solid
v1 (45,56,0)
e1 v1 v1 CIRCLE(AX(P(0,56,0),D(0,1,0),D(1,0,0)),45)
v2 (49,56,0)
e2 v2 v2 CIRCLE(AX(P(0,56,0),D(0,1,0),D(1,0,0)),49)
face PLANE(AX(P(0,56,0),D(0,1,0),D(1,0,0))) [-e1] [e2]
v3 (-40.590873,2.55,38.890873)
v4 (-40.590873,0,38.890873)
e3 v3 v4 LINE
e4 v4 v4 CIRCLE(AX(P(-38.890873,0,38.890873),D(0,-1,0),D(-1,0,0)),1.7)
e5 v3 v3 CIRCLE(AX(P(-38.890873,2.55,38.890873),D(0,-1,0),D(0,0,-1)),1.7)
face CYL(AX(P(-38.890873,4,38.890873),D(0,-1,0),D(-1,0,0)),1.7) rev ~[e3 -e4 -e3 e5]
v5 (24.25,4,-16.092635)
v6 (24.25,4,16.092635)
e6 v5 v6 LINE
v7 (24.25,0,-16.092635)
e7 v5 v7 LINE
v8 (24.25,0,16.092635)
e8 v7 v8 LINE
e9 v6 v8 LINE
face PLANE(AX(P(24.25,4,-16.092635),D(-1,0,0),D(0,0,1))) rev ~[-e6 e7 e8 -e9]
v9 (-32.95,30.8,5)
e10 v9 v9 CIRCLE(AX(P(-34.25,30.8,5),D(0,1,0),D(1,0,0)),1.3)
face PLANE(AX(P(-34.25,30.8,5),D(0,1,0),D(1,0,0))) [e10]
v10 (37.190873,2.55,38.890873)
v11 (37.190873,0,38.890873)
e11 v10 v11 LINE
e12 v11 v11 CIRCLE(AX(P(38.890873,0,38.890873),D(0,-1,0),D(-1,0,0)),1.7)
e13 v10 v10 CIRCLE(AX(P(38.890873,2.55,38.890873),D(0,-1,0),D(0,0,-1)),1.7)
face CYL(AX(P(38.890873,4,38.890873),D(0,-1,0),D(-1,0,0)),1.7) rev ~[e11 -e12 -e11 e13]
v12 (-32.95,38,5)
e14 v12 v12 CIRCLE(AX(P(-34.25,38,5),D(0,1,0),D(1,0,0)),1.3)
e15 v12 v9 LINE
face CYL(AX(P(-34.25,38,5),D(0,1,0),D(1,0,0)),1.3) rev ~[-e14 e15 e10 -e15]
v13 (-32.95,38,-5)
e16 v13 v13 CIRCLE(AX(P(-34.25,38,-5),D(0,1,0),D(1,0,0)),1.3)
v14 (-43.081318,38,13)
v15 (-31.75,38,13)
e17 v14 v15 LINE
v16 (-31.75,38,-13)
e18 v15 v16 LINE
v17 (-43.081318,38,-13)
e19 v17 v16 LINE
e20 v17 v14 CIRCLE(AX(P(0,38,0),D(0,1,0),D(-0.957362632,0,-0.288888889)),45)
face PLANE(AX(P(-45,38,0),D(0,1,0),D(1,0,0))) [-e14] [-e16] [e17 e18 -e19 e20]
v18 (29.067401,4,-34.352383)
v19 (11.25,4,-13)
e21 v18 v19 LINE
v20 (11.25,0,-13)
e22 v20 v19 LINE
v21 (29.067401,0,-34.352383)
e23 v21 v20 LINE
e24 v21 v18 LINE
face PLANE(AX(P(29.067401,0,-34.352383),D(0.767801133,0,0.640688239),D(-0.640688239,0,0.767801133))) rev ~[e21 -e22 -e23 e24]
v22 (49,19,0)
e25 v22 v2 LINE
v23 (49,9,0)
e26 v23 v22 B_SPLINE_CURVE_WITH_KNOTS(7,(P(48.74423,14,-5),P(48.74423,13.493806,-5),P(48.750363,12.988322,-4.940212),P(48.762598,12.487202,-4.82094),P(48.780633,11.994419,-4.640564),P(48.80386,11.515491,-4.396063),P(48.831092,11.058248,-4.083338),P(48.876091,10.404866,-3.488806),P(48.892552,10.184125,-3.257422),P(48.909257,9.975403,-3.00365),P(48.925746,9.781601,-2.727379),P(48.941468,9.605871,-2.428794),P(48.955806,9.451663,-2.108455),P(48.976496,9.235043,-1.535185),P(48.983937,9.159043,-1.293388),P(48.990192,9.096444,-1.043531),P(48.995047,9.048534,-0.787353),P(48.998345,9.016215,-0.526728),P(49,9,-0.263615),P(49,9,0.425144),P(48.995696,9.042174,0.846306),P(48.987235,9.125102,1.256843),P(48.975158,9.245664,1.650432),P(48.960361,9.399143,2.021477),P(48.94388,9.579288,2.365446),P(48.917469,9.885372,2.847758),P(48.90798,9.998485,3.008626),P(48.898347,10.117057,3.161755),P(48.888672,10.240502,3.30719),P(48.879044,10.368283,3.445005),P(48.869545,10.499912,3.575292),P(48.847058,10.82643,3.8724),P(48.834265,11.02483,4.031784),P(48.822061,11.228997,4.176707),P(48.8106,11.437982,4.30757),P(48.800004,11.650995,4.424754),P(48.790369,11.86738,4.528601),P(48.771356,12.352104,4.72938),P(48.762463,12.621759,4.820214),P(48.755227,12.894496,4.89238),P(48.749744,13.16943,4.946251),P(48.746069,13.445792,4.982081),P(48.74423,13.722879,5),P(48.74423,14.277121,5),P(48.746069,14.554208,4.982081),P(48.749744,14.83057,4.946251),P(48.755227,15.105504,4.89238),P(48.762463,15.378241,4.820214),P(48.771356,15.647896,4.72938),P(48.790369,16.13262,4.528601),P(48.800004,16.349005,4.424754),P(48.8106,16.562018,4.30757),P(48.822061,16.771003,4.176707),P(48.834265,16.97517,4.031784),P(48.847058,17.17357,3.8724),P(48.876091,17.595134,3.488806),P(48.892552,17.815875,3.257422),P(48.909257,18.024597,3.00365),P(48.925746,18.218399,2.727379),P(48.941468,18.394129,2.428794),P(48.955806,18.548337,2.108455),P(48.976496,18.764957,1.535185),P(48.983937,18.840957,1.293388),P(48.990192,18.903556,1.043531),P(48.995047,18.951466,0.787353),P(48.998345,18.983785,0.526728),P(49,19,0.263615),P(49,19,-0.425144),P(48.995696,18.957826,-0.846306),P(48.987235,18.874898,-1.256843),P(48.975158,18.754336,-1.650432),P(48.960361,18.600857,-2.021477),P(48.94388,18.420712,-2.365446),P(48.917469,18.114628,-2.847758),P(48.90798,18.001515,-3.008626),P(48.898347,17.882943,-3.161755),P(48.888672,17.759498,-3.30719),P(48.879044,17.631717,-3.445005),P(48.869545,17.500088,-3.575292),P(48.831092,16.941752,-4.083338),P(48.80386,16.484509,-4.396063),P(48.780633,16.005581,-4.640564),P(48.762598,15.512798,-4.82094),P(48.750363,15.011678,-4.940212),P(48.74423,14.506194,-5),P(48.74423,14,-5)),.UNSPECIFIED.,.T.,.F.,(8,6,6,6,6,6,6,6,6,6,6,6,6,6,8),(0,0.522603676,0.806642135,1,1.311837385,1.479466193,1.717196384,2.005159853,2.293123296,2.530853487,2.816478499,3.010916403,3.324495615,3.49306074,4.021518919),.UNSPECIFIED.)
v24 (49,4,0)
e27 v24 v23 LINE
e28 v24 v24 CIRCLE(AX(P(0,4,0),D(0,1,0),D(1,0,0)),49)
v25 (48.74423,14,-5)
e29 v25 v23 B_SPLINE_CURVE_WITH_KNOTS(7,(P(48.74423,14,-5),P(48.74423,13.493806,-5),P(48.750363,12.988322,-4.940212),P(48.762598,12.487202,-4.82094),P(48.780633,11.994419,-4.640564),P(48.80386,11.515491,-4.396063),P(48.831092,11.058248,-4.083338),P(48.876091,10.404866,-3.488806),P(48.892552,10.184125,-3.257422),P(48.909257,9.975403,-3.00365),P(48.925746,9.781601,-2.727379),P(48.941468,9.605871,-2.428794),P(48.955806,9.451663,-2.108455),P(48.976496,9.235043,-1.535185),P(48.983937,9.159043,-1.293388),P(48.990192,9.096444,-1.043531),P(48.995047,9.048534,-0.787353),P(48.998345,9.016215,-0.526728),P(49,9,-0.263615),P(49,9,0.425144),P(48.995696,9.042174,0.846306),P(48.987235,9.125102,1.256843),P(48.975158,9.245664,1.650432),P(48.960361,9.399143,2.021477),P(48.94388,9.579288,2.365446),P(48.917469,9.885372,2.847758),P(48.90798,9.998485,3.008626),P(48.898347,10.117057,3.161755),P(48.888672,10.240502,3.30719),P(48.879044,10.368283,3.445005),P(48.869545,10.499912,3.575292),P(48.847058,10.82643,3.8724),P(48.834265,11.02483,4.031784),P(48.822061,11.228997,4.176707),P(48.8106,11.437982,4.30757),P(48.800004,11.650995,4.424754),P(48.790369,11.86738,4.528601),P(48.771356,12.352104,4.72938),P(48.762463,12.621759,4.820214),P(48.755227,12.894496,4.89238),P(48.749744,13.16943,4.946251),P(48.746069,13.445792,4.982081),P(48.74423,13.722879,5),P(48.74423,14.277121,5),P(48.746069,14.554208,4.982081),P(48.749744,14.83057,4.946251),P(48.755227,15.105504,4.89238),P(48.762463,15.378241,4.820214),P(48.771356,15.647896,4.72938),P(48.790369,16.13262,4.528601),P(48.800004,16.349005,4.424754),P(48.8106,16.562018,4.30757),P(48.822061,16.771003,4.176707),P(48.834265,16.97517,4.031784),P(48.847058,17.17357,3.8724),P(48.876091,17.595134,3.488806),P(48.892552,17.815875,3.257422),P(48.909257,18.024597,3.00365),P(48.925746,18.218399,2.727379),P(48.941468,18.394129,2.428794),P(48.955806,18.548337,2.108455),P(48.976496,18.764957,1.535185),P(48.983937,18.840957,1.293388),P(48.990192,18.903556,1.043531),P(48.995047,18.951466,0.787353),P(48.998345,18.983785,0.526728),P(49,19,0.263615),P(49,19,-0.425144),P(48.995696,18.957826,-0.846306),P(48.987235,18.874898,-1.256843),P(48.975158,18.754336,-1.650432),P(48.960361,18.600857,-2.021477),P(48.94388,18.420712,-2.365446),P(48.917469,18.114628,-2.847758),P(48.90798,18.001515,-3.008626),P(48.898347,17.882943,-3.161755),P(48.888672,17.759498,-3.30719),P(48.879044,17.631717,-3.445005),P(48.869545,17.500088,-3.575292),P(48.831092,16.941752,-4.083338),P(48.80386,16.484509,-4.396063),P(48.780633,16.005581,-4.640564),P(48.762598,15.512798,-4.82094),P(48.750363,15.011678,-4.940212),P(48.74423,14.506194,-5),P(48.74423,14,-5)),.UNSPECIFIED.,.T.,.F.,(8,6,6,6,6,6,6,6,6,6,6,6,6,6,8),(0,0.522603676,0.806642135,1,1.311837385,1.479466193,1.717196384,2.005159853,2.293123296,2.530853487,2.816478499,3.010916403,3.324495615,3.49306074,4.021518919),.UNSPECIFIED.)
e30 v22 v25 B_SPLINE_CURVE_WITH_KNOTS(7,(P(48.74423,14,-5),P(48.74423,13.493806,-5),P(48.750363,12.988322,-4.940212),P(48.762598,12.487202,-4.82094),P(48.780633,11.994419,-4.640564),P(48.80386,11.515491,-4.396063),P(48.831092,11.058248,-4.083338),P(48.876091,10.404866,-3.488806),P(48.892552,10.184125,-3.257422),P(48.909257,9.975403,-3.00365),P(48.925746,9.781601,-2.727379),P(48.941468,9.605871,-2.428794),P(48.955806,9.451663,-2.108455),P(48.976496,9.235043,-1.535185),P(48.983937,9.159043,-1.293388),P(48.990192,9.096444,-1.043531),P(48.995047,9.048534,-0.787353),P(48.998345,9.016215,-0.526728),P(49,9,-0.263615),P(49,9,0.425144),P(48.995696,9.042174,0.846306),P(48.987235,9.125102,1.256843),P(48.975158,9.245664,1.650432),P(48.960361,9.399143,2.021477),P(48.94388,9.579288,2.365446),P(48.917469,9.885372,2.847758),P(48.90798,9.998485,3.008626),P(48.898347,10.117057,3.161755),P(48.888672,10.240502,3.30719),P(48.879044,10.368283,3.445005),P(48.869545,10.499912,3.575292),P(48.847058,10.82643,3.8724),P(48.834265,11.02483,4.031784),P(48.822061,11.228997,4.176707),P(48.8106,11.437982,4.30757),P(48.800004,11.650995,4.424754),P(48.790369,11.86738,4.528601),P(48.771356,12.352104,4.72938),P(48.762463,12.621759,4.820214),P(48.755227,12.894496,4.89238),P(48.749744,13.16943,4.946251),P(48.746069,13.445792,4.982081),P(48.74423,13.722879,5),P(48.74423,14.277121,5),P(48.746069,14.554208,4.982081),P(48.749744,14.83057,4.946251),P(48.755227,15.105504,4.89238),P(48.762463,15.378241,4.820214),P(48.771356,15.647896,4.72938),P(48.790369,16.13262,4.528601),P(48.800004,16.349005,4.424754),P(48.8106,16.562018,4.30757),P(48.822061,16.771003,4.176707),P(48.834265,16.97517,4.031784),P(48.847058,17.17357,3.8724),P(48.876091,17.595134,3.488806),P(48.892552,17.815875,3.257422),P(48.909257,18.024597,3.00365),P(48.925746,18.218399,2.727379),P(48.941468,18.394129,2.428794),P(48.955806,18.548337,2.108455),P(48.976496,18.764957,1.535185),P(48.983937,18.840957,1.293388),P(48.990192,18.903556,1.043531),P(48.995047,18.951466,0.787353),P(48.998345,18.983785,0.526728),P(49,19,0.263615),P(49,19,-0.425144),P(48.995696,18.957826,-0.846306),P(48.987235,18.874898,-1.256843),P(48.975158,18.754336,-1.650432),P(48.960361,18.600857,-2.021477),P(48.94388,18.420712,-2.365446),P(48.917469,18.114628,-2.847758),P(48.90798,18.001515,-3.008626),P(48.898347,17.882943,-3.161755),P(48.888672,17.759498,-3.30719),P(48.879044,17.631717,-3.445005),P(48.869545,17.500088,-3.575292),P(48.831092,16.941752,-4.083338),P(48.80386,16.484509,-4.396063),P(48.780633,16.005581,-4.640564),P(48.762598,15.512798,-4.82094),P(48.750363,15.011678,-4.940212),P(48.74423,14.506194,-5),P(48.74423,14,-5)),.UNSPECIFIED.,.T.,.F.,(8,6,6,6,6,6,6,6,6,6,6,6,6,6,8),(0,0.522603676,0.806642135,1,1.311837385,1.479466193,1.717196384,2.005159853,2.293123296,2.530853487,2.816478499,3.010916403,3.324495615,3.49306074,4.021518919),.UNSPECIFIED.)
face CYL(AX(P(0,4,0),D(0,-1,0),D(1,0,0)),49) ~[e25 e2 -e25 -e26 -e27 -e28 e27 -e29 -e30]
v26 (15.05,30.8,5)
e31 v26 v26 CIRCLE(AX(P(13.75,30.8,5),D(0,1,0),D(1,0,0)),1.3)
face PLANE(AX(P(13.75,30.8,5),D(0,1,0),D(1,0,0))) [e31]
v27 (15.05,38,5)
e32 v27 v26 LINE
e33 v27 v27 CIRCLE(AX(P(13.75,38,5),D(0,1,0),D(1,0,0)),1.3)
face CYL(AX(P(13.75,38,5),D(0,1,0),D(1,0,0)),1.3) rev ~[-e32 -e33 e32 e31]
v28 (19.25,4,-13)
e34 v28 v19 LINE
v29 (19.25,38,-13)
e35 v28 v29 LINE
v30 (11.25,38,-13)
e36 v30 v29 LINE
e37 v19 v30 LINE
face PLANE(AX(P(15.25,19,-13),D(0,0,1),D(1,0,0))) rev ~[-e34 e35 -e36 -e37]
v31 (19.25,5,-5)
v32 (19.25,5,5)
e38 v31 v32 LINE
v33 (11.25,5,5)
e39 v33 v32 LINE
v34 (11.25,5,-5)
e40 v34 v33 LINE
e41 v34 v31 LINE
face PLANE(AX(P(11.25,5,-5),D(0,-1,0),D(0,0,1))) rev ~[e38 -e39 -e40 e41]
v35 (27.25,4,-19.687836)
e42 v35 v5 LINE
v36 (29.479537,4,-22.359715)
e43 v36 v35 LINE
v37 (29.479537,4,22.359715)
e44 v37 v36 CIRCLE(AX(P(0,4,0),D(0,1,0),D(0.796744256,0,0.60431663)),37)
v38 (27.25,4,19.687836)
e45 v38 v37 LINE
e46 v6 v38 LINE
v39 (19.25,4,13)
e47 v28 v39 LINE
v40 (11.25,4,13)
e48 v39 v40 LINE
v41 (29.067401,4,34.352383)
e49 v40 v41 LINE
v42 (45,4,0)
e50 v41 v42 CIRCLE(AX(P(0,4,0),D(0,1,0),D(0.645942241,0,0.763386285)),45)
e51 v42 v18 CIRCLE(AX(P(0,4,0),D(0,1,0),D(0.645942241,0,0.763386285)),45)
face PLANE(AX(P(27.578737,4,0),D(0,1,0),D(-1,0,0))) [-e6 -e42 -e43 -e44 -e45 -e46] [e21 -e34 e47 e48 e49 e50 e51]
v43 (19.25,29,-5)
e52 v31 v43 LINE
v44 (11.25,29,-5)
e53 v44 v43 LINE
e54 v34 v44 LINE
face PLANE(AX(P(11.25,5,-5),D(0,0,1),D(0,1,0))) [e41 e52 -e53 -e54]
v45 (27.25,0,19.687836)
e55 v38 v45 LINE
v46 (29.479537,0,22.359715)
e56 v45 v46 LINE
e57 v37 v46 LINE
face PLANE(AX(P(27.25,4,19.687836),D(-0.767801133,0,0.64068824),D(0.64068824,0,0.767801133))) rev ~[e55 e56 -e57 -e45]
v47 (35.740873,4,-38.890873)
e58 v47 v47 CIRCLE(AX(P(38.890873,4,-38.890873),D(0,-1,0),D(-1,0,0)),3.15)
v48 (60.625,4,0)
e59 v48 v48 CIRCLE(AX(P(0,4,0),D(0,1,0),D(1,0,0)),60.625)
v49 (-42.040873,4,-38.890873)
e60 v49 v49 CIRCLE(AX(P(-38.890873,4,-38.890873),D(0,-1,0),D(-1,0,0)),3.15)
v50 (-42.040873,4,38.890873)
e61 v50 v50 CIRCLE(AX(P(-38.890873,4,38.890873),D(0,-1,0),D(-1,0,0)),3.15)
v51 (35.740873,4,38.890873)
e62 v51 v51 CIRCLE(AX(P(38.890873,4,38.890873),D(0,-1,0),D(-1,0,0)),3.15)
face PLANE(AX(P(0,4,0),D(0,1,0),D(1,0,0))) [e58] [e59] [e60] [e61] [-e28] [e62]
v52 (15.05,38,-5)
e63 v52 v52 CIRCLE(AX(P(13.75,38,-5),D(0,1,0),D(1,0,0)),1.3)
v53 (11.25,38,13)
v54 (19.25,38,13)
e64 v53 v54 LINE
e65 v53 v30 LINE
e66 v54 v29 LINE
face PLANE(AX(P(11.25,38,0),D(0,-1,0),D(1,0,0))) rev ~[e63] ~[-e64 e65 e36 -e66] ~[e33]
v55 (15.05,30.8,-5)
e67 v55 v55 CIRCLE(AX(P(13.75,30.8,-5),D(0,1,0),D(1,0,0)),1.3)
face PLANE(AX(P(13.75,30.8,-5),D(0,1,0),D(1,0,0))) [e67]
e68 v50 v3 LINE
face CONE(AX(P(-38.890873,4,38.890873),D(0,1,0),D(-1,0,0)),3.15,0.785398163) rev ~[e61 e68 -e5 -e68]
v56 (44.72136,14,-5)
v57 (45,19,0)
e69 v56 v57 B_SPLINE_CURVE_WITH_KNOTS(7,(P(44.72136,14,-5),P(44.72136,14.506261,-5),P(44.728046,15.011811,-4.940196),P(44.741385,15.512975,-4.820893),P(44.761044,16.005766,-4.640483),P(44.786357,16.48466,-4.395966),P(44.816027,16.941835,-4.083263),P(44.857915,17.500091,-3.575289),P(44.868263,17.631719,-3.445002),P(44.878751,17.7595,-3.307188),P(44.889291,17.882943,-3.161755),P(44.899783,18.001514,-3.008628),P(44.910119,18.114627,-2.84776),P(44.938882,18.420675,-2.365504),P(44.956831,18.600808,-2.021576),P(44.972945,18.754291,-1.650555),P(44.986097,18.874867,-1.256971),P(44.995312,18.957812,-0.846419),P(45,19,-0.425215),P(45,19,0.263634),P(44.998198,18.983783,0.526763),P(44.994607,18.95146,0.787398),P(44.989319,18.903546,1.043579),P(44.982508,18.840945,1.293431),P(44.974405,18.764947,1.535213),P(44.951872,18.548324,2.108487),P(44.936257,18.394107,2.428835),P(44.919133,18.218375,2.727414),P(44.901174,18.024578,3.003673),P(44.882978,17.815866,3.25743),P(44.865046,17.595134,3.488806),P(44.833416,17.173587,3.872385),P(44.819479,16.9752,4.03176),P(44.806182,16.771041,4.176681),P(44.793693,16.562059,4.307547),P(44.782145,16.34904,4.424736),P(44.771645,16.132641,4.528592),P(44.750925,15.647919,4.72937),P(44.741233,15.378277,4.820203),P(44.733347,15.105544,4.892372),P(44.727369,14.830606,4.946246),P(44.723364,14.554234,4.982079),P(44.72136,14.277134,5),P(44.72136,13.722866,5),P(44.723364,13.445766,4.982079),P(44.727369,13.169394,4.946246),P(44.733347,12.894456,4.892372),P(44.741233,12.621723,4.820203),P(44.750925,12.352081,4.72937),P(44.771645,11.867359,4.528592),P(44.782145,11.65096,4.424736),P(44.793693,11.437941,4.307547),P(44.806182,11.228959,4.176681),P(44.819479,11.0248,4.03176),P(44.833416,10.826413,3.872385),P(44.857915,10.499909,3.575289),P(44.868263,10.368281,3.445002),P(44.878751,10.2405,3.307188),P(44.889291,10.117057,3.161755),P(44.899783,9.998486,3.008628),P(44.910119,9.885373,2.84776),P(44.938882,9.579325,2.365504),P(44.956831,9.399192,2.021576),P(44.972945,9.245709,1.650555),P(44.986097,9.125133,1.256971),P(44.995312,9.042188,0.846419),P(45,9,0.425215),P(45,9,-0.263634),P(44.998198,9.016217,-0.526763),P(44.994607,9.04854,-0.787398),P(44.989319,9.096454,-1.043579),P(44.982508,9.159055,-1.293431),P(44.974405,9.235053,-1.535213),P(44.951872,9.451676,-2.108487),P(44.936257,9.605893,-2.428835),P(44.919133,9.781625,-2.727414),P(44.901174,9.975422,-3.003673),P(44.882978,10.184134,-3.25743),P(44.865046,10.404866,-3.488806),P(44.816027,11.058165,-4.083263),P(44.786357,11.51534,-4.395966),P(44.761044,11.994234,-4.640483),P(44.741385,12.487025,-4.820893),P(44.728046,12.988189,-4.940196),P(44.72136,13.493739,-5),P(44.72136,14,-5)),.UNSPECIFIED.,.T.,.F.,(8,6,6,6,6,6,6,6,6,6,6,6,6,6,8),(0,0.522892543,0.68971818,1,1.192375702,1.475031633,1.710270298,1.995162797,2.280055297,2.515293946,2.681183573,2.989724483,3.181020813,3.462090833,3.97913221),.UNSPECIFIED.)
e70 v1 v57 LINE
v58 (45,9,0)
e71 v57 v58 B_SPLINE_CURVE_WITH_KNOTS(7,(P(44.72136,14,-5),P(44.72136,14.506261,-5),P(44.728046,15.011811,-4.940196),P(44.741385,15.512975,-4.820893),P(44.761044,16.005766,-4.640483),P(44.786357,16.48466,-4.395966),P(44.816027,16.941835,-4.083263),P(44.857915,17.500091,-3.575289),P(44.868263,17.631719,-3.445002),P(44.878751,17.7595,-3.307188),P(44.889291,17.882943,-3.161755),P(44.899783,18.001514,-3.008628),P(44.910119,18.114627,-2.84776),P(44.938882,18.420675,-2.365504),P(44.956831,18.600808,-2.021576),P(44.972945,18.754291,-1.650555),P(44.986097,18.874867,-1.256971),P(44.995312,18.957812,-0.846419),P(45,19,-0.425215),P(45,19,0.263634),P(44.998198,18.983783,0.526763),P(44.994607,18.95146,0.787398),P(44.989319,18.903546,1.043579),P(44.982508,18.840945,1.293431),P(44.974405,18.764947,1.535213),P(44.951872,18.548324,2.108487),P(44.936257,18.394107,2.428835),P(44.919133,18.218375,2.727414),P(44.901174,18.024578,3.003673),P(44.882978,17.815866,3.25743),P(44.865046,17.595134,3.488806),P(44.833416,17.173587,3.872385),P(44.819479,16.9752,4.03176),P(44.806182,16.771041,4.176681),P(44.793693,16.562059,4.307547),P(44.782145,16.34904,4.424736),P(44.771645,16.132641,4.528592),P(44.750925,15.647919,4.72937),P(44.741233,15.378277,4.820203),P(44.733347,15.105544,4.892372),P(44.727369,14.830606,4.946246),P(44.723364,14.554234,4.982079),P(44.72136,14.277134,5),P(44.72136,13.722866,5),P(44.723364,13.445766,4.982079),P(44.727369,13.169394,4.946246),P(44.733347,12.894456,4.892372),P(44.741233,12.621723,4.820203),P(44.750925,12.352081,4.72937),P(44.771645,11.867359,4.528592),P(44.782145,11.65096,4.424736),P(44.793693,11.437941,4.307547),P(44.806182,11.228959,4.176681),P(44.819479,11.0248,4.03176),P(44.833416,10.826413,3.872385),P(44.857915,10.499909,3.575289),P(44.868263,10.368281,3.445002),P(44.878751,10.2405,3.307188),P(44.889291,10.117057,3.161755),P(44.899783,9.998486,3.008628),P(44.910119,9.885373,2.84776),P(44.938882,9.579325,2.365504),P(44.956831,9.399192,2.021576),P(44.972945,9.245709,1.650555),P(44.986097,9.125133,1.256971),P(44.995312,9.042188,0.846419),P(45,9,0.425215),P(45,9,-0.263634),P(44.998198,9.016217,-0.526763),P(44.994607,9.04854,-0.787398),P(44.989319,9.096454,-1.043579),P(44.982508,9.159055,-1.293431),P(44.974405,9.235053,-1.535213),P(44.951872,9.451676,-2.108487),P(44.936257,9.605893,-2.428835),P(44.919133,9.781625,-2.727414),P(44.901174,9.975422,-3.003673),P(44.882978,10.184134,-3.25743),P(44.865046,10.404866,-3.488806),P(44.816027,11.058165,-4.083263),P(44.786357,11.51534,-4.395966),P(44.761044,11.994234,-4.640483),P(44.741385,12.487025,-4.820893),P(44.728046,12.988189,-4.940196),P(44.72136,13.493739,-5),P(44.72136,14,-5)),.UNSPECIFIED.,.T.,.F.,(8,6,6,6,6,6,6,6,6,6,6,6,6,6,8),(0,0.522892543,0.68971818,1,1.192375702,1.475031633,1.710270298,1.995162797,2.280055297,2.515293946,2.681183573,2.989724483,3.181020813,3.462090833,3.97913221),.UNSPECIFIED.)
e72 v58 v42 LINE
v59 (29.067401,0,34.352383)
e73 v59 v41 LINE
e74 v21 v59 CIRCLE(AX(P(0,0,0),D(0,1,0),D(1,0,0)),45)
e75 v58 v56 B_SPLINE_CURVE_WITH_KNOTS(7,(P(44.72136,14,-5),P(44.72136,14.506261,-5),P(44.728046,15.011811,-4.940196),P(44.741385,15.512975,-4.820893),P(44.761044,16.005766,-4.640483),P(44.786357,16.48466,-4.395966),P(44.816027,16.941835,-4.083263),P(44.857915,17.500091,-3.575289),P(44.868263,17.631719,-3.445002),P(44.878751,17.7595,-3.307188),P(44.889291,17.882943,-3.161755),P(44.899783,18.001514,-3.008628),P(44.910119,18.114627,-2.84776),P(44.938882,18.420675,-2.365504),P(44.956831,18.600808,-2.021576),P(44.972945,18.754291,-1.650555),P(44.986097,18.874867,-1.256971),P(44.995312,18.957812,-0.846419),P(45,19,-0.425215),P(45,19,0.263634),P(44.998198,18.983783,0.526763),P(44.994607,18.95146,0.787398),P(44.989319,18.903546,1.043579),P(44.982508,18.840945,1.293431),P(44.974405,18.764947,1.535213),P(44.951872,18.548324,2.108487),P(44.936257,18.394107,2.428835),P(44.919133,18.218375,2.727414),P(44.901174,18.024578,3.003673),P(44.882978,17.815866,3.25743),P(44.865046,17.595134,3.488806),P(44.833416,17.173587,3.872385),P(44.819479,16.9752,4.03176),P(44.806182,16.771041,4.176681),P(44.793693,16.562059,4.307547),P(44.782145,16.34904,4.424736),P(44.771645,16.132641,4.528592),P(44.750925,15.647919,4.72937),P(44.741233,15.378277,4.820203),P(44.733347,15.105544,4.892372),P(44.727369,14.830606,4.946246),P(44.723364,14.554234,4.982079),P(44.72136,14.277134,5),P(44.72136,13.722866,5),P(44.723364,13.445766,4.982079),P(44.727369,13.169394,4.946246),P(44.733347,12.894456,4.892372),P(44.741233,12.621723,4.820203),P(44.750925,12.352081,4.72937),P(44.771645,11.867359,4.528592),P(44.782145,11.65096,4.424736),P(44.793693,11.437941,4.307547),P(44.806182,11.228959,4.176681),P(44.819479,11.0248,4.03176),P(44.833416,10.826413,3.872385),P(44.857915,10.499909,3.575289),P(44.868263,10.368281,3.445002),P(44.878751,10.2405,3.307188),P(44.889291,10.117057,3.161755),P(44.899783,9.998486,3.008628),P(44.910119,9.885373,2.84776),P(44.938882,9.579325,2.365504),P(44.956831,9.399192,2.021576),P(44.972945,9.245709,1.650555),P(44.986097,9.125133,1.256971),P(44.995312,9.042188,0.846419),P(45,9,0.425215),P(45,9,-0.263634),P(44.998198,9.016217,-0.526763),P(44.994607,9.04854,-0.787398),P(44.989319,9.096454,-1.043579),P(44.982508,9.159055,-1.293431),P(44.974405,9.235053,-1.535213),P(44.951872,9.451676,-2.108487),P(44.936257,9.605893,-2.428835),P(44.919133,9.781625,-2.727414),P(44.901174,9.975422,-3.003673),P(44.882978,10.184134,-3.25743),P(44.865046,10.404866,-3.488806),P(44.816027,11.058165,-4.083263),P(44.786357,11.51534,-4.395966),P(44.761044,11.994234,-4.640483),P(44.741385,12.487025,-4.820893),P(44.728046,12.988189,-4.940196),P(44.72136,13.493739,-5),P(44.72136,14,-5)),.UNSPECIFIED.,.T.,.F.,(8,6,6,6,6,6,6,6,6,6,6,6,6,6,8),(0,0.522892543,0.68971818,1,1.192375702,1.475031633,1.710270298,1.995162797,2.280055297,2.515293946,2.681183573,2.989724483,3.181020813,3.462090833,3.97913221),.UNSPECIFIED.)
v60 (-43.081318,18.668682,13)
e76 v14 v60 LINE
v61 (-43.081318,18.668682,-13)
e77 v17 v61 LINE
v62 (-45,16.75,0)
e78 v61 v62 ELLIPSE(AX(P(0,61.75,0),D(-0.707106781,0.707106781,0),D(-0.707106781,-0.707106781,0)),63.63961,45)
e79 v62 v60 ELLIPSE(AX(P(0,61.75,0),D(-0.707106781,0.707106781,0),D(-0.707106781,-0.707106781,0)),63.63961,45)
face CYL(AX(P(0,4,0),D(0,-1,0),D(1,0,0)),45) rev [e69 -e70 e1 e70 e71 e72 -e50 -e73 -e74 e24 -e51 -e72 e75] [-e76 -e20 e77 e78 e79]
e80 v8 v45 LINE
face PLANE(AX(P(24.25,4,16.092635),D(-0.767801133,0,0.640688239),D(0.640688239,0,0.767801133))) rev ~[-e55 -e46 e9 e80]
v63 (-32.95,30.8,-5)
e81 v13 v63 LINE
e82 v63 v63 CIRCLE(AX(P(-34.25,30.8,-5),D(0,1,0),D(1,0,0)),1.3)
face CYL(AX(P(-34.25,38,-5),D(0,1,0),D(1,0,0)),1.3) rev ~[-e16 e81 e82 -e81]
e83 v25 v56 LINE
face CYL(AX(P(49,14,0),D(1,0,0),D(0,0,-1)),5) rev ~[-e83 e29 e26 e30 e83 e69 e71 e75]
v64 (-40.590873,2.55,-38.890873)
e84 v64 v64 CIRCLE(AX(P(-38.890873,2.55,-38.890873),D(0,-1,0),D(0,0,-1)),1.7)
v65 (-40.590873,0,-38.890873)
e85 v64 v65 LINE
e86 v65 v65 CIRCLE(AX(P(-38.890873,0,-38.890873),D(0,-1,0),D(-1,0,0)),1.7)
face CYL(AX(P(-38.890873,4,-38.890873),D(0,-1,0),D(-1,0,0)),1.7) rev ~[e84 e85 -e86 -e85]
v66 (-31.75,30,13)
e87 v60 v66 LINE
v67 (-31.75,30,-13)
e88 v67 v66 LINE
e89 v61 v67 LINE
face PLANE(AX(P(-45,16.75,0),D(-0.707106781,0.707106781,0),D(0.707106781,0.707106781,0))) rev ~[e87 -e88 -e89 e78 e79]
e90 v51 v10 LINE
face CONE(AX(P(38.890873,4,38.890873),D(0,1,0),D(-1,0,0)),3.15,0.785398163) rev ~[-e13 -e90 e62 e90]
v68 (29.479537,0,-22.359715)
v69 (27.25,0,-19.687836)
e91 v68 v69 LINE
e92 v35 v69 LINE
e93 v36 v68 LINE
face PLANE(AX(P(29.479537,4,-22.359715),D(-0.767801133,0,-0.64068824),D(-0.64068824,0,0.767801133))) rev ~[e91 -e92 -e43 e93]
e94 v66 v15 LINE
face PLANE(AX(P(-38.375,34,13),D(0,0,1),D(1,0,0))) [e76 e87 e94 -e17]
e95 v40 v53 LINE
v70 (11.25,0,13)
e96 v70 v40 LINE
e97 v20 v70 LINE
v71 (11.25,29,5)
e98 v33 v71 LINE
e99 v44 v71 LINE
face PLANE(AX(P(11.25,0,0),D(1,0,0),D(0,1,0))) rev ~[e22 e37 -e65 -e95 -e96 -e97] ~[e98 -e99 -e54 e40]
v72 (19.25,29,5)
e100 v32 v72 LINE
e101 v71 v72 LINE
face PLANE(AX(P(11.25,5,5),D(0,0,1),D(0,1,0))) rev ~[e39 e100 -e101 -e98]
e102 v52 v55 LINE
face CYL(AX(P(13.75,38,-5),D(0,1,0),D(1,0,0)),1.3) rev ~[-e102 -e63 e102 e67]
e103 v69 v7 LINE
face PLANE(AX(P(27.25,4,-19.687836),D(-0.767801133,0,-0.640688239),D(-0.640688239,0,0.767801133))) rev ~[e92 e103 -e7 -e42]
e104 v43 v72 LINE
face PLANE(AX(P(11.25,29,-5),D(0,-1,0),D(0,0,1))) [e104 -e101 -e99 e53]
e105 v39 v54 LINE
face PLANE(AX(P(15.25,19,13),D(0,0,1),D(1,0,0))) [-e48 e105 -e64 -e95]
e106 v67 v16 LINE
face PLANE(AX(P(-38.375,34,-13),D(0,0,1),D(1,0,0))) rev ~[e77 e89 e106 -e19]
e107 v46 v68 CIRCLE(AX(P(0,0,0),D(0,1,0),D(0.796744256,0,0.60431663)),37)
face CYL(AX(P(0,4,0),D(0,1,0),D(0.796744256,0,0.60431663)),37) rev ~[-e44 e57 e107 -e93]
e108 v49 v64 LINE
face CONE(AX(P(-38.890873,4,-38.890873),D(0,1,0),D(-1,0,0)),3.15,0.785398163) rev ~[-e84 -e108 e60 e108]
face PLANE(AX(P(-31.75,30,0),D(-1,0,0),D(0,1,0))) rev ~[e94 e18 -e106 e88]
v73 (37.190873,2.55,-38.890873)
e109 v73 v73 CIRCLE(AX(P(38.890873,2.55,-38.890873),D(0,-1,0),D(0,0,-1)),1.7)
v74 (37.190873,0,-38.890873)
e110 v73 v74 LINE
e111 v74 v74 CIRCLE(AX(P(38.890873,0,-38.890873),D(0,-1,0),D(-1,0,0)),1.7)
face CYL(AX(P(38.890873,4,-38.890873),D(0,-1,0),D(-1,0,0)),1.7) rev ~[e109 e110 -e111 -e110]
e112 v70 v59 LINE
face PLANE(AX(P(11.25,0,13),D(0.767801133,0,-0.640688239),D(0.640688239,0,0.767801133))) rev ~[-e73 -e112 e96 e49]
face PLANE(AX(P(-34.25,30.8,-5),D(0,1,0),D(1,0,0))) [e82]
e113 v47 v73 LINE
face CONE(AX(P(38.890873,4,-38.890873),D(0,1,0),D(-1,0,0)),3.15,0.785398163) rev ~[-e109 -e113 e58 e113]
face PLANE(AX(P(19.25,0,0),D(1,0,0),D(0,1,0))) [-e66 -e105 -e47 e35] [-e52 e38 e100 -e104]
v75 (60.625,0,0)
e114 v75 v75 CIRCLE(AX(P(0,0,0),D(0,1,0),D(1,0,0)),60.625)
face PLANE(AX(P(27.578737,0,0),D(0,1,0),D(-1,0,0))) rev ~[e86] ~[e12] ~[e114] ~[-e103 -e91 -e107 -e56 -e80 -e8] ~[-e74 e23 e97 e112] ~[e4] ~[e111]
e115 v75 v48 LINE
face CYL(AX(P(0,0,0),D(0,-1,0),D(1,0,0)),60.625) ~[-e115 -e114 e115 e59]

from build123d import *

# Parameters (mm, degrees)
SKETCH1_R                                           = 60.625
SKETCH1_R_2                                         = 45
BOSS_EXTRUDE1_DEPTH                                 = 4
SKETCH2_R                                           = 49
SKETCH2_R_2                                         = 45
BOSS_EXTRUDE2_DEPTH                                 = 52
SKETCH4_W                                           = 13.25
SKETCH4_H                                           = 8
SKETCH4_W_2                                         = 8
SKETCH4_H_2                                         = 38
BOSS_EXTRUDE4_DEPTH                                 = 13
BOSS_EXTRUDE5_DEPTH                                 = 4
SKETCH7_R                                           = 1.3
CUT_EXTRUDE4_DEPTH                                  = 7.2
SKETCH9_W                                           = 10
SKETCH9_H                                           = 24
CUT_EXTRUDE7_DEPTH                                  = 8
CUT_EXTRUDE8_REACH                                  = 111.625
SKETCH11_R                                          = 5
CUT_EXTRUDE9_DEPTH                                  = 5.0000001
CSK_FOR_M3_COUNTERSUNK_FLAT_HEAD_SCREW1_D           = 3.4
CSK_FOR_M3_COUNTERSUNK_FLAT_HEAD_SCREW1_DEPTH       = 4
CSK_FOR_M3_COUNTERSUNK_FLAT_HEAD_SCREW1_CSINK_D     = 6.3
CSK_FOR_M3_COUNTERSUNK_FLAT_HEAD_SCREW1_CSINK_ANGLE = 90


with BuildPart() as part:
    # Sketch1 → Boss-Extrude1 (new body)
    with BuildSketch(Plane(origin=(0, 0, 0), x_dir=(1, 0, 0), z_dir=(0, 1, 0))):
        Circle(SKETCH1_R)
        Circle(SKETCH1_R_2, mode=Mode.SUBTRACT)
    extrude(amount=BOSS_EXTRUDE1_DEPTH)

    # Sketch2 → Boss-Extrude2 (add)
    with BuildSketch(Plane(origin=(0, 4, 0), x_dir=(1, 0, 0), z_dir=(0, 1, 0))):
        Circle(SKETCH2_R)
        Circle(SKETCH2_R_2, mode=Mode.SUBTRACT)
    extrude(amount=BOSS_EXTRUDE2_DEPTH)

    # Sketch4 → Boss-Extrude4 (add, symmetric)
    with BuildSketch(Plane.XY):
        with Locations((-38.375, 34)):
            Rectangle(SKETCH4_W, SKETCH4_H)
        Polygon((-31.75, 30), (-45, 30), (-45, 16.75), align=None)
        with Locations((15.25, 19)):
            Rectangle(SKETCH4_W_2, SKETCH4_H_2)
    extrude(amount=BOSS_EXTRUDE4_DEPTH, both=True)

    # Sketch5 → Boss-Extrude5 (add)
    with BuildSketch(Plane.XZ):
        with BuildLine():
            Line((11.25, 13), (29.067400866, 34.352382842))
            ThreePointArc((29.067400866, 34.352382842), (45, 0), (29.067400866, -34.352382842))
            Line((29.067400866, -34.352382842), (11.25, -13))
            Line((11.25, -13), (11.25, 13))
        make_face()
    extrude(amount=-BOSS_EXTRUDE5_DEPTH)

    # Sketch7 → Cut-Extrude4 (cut)
    with BuildSketch(Plane(origin=(0, 38, 0), x_dir=(1, 0, 0), z_dir=(0, 1, 0))):
        with Locations((-34.25, 5)):
            Circle(SKETCH7_R)
        with Locations((-34.25, -5)):
            Circle(SKETCH7_R)
        with Locations((13.75, 5)):
            Circle(SKETCH7_R)
        with Locations((13.75, -5)):
            Circle(SKETCH7_R)
    extrude(amount=-CUT_EXTRUDE4_DEPTH, mode=Mode.SUBTRACT)

    # Sketch9 → Cut-Extrude7 (cut)
    with BuildSketch(Plane.ZY.offset(-11.25)):
        with Locations((0, 17)):
            Rectangle(SKETCH9_W, SKETCH9_H)
    extrude(amount=-CUT_EXTRUDE7_DEPTH, mode=Mode.SUBTRACT)

    # Sketch11 → Cut-Extrude8 (cut, up to next)
    with BuildSketch(Plane(origin=(49, 0, 0), x_dir=(0, 0, -1), z_dir=(1, 0, 0)), mode=Mode.PRIVATE) as cut_extrude8_sk1:
        with Locations((0, 14)):
            Circle(SKETCH11_R)
    cut_extrude8_tool1 = extrude(cut_extrude8_sk1.sketch, amount=-CUT_EXTRUDE8_REACH, mode=Mode.PRIVATE) & part.part
    add(cut_extrude8_tool1.solids().sort_by_distance((49, 14, 0))[0], mode=Mode.SUBTRACT)

    # Sketch12 → Cut-Extrude9 (cut, through all)
    with BuildSketch(Plane(origin=(0, 4, 0), x_dir=(1, 0, 0), z_dir=(0, 1, 0))):
        with BuildLine():
            Line((29.479537487, 22.359715328), (27.25, 19.687836398))
            Line((27.25, 19.687836398), (27.25, -19.687836398))
            Line((27.25, -19.687836398), (29.479537487, -22.359715328))
            ThreePointArc((29.479537487, -22.359715328), (37, 0), (29.479537487, 22.359715328))
        make_face()
        Polygon((27.25, -19.687836398), (27.25, 19.687836398), (24.25, 16.092634774), (24.25, -16.092634774), align=None)
    extrude(amount=-CUT_EXTRUDE9_DEPTH, mode=Mode.SUBTRACT)

    # CSK for M3 Countersunk Flat Head Screw1
    with Locations(Plane(origin=(0, 4, 0), x_dir=(1, 0, 0), z_dir=(0, 1, 0))):
        with Locations((-38.890872965, 38.890872965), (-38.890872965, -38.890872965), (38.890872965, -38.890872965), (38.890872965, 38.890872965)):
            CounterSinkHole(CSK_FOR_M3_COUNTERSUNK_FLAT_HEAD_SCREW1_D / 2, CSK_FOR_M3_COUNTERSUNK_FLAT_HEAD_SCREW1_CSINK_D / 2, depth=CSK_FOR_M3_COUNTERSUNK_FLAT_HEAD_SCREW1_DEPTH, counter_sink_angle=CSK_FOR_M3_COUNTERSUNK_FLAT_HEAD_SCREW1_CSINK_ANGLE)


solid = part.part
